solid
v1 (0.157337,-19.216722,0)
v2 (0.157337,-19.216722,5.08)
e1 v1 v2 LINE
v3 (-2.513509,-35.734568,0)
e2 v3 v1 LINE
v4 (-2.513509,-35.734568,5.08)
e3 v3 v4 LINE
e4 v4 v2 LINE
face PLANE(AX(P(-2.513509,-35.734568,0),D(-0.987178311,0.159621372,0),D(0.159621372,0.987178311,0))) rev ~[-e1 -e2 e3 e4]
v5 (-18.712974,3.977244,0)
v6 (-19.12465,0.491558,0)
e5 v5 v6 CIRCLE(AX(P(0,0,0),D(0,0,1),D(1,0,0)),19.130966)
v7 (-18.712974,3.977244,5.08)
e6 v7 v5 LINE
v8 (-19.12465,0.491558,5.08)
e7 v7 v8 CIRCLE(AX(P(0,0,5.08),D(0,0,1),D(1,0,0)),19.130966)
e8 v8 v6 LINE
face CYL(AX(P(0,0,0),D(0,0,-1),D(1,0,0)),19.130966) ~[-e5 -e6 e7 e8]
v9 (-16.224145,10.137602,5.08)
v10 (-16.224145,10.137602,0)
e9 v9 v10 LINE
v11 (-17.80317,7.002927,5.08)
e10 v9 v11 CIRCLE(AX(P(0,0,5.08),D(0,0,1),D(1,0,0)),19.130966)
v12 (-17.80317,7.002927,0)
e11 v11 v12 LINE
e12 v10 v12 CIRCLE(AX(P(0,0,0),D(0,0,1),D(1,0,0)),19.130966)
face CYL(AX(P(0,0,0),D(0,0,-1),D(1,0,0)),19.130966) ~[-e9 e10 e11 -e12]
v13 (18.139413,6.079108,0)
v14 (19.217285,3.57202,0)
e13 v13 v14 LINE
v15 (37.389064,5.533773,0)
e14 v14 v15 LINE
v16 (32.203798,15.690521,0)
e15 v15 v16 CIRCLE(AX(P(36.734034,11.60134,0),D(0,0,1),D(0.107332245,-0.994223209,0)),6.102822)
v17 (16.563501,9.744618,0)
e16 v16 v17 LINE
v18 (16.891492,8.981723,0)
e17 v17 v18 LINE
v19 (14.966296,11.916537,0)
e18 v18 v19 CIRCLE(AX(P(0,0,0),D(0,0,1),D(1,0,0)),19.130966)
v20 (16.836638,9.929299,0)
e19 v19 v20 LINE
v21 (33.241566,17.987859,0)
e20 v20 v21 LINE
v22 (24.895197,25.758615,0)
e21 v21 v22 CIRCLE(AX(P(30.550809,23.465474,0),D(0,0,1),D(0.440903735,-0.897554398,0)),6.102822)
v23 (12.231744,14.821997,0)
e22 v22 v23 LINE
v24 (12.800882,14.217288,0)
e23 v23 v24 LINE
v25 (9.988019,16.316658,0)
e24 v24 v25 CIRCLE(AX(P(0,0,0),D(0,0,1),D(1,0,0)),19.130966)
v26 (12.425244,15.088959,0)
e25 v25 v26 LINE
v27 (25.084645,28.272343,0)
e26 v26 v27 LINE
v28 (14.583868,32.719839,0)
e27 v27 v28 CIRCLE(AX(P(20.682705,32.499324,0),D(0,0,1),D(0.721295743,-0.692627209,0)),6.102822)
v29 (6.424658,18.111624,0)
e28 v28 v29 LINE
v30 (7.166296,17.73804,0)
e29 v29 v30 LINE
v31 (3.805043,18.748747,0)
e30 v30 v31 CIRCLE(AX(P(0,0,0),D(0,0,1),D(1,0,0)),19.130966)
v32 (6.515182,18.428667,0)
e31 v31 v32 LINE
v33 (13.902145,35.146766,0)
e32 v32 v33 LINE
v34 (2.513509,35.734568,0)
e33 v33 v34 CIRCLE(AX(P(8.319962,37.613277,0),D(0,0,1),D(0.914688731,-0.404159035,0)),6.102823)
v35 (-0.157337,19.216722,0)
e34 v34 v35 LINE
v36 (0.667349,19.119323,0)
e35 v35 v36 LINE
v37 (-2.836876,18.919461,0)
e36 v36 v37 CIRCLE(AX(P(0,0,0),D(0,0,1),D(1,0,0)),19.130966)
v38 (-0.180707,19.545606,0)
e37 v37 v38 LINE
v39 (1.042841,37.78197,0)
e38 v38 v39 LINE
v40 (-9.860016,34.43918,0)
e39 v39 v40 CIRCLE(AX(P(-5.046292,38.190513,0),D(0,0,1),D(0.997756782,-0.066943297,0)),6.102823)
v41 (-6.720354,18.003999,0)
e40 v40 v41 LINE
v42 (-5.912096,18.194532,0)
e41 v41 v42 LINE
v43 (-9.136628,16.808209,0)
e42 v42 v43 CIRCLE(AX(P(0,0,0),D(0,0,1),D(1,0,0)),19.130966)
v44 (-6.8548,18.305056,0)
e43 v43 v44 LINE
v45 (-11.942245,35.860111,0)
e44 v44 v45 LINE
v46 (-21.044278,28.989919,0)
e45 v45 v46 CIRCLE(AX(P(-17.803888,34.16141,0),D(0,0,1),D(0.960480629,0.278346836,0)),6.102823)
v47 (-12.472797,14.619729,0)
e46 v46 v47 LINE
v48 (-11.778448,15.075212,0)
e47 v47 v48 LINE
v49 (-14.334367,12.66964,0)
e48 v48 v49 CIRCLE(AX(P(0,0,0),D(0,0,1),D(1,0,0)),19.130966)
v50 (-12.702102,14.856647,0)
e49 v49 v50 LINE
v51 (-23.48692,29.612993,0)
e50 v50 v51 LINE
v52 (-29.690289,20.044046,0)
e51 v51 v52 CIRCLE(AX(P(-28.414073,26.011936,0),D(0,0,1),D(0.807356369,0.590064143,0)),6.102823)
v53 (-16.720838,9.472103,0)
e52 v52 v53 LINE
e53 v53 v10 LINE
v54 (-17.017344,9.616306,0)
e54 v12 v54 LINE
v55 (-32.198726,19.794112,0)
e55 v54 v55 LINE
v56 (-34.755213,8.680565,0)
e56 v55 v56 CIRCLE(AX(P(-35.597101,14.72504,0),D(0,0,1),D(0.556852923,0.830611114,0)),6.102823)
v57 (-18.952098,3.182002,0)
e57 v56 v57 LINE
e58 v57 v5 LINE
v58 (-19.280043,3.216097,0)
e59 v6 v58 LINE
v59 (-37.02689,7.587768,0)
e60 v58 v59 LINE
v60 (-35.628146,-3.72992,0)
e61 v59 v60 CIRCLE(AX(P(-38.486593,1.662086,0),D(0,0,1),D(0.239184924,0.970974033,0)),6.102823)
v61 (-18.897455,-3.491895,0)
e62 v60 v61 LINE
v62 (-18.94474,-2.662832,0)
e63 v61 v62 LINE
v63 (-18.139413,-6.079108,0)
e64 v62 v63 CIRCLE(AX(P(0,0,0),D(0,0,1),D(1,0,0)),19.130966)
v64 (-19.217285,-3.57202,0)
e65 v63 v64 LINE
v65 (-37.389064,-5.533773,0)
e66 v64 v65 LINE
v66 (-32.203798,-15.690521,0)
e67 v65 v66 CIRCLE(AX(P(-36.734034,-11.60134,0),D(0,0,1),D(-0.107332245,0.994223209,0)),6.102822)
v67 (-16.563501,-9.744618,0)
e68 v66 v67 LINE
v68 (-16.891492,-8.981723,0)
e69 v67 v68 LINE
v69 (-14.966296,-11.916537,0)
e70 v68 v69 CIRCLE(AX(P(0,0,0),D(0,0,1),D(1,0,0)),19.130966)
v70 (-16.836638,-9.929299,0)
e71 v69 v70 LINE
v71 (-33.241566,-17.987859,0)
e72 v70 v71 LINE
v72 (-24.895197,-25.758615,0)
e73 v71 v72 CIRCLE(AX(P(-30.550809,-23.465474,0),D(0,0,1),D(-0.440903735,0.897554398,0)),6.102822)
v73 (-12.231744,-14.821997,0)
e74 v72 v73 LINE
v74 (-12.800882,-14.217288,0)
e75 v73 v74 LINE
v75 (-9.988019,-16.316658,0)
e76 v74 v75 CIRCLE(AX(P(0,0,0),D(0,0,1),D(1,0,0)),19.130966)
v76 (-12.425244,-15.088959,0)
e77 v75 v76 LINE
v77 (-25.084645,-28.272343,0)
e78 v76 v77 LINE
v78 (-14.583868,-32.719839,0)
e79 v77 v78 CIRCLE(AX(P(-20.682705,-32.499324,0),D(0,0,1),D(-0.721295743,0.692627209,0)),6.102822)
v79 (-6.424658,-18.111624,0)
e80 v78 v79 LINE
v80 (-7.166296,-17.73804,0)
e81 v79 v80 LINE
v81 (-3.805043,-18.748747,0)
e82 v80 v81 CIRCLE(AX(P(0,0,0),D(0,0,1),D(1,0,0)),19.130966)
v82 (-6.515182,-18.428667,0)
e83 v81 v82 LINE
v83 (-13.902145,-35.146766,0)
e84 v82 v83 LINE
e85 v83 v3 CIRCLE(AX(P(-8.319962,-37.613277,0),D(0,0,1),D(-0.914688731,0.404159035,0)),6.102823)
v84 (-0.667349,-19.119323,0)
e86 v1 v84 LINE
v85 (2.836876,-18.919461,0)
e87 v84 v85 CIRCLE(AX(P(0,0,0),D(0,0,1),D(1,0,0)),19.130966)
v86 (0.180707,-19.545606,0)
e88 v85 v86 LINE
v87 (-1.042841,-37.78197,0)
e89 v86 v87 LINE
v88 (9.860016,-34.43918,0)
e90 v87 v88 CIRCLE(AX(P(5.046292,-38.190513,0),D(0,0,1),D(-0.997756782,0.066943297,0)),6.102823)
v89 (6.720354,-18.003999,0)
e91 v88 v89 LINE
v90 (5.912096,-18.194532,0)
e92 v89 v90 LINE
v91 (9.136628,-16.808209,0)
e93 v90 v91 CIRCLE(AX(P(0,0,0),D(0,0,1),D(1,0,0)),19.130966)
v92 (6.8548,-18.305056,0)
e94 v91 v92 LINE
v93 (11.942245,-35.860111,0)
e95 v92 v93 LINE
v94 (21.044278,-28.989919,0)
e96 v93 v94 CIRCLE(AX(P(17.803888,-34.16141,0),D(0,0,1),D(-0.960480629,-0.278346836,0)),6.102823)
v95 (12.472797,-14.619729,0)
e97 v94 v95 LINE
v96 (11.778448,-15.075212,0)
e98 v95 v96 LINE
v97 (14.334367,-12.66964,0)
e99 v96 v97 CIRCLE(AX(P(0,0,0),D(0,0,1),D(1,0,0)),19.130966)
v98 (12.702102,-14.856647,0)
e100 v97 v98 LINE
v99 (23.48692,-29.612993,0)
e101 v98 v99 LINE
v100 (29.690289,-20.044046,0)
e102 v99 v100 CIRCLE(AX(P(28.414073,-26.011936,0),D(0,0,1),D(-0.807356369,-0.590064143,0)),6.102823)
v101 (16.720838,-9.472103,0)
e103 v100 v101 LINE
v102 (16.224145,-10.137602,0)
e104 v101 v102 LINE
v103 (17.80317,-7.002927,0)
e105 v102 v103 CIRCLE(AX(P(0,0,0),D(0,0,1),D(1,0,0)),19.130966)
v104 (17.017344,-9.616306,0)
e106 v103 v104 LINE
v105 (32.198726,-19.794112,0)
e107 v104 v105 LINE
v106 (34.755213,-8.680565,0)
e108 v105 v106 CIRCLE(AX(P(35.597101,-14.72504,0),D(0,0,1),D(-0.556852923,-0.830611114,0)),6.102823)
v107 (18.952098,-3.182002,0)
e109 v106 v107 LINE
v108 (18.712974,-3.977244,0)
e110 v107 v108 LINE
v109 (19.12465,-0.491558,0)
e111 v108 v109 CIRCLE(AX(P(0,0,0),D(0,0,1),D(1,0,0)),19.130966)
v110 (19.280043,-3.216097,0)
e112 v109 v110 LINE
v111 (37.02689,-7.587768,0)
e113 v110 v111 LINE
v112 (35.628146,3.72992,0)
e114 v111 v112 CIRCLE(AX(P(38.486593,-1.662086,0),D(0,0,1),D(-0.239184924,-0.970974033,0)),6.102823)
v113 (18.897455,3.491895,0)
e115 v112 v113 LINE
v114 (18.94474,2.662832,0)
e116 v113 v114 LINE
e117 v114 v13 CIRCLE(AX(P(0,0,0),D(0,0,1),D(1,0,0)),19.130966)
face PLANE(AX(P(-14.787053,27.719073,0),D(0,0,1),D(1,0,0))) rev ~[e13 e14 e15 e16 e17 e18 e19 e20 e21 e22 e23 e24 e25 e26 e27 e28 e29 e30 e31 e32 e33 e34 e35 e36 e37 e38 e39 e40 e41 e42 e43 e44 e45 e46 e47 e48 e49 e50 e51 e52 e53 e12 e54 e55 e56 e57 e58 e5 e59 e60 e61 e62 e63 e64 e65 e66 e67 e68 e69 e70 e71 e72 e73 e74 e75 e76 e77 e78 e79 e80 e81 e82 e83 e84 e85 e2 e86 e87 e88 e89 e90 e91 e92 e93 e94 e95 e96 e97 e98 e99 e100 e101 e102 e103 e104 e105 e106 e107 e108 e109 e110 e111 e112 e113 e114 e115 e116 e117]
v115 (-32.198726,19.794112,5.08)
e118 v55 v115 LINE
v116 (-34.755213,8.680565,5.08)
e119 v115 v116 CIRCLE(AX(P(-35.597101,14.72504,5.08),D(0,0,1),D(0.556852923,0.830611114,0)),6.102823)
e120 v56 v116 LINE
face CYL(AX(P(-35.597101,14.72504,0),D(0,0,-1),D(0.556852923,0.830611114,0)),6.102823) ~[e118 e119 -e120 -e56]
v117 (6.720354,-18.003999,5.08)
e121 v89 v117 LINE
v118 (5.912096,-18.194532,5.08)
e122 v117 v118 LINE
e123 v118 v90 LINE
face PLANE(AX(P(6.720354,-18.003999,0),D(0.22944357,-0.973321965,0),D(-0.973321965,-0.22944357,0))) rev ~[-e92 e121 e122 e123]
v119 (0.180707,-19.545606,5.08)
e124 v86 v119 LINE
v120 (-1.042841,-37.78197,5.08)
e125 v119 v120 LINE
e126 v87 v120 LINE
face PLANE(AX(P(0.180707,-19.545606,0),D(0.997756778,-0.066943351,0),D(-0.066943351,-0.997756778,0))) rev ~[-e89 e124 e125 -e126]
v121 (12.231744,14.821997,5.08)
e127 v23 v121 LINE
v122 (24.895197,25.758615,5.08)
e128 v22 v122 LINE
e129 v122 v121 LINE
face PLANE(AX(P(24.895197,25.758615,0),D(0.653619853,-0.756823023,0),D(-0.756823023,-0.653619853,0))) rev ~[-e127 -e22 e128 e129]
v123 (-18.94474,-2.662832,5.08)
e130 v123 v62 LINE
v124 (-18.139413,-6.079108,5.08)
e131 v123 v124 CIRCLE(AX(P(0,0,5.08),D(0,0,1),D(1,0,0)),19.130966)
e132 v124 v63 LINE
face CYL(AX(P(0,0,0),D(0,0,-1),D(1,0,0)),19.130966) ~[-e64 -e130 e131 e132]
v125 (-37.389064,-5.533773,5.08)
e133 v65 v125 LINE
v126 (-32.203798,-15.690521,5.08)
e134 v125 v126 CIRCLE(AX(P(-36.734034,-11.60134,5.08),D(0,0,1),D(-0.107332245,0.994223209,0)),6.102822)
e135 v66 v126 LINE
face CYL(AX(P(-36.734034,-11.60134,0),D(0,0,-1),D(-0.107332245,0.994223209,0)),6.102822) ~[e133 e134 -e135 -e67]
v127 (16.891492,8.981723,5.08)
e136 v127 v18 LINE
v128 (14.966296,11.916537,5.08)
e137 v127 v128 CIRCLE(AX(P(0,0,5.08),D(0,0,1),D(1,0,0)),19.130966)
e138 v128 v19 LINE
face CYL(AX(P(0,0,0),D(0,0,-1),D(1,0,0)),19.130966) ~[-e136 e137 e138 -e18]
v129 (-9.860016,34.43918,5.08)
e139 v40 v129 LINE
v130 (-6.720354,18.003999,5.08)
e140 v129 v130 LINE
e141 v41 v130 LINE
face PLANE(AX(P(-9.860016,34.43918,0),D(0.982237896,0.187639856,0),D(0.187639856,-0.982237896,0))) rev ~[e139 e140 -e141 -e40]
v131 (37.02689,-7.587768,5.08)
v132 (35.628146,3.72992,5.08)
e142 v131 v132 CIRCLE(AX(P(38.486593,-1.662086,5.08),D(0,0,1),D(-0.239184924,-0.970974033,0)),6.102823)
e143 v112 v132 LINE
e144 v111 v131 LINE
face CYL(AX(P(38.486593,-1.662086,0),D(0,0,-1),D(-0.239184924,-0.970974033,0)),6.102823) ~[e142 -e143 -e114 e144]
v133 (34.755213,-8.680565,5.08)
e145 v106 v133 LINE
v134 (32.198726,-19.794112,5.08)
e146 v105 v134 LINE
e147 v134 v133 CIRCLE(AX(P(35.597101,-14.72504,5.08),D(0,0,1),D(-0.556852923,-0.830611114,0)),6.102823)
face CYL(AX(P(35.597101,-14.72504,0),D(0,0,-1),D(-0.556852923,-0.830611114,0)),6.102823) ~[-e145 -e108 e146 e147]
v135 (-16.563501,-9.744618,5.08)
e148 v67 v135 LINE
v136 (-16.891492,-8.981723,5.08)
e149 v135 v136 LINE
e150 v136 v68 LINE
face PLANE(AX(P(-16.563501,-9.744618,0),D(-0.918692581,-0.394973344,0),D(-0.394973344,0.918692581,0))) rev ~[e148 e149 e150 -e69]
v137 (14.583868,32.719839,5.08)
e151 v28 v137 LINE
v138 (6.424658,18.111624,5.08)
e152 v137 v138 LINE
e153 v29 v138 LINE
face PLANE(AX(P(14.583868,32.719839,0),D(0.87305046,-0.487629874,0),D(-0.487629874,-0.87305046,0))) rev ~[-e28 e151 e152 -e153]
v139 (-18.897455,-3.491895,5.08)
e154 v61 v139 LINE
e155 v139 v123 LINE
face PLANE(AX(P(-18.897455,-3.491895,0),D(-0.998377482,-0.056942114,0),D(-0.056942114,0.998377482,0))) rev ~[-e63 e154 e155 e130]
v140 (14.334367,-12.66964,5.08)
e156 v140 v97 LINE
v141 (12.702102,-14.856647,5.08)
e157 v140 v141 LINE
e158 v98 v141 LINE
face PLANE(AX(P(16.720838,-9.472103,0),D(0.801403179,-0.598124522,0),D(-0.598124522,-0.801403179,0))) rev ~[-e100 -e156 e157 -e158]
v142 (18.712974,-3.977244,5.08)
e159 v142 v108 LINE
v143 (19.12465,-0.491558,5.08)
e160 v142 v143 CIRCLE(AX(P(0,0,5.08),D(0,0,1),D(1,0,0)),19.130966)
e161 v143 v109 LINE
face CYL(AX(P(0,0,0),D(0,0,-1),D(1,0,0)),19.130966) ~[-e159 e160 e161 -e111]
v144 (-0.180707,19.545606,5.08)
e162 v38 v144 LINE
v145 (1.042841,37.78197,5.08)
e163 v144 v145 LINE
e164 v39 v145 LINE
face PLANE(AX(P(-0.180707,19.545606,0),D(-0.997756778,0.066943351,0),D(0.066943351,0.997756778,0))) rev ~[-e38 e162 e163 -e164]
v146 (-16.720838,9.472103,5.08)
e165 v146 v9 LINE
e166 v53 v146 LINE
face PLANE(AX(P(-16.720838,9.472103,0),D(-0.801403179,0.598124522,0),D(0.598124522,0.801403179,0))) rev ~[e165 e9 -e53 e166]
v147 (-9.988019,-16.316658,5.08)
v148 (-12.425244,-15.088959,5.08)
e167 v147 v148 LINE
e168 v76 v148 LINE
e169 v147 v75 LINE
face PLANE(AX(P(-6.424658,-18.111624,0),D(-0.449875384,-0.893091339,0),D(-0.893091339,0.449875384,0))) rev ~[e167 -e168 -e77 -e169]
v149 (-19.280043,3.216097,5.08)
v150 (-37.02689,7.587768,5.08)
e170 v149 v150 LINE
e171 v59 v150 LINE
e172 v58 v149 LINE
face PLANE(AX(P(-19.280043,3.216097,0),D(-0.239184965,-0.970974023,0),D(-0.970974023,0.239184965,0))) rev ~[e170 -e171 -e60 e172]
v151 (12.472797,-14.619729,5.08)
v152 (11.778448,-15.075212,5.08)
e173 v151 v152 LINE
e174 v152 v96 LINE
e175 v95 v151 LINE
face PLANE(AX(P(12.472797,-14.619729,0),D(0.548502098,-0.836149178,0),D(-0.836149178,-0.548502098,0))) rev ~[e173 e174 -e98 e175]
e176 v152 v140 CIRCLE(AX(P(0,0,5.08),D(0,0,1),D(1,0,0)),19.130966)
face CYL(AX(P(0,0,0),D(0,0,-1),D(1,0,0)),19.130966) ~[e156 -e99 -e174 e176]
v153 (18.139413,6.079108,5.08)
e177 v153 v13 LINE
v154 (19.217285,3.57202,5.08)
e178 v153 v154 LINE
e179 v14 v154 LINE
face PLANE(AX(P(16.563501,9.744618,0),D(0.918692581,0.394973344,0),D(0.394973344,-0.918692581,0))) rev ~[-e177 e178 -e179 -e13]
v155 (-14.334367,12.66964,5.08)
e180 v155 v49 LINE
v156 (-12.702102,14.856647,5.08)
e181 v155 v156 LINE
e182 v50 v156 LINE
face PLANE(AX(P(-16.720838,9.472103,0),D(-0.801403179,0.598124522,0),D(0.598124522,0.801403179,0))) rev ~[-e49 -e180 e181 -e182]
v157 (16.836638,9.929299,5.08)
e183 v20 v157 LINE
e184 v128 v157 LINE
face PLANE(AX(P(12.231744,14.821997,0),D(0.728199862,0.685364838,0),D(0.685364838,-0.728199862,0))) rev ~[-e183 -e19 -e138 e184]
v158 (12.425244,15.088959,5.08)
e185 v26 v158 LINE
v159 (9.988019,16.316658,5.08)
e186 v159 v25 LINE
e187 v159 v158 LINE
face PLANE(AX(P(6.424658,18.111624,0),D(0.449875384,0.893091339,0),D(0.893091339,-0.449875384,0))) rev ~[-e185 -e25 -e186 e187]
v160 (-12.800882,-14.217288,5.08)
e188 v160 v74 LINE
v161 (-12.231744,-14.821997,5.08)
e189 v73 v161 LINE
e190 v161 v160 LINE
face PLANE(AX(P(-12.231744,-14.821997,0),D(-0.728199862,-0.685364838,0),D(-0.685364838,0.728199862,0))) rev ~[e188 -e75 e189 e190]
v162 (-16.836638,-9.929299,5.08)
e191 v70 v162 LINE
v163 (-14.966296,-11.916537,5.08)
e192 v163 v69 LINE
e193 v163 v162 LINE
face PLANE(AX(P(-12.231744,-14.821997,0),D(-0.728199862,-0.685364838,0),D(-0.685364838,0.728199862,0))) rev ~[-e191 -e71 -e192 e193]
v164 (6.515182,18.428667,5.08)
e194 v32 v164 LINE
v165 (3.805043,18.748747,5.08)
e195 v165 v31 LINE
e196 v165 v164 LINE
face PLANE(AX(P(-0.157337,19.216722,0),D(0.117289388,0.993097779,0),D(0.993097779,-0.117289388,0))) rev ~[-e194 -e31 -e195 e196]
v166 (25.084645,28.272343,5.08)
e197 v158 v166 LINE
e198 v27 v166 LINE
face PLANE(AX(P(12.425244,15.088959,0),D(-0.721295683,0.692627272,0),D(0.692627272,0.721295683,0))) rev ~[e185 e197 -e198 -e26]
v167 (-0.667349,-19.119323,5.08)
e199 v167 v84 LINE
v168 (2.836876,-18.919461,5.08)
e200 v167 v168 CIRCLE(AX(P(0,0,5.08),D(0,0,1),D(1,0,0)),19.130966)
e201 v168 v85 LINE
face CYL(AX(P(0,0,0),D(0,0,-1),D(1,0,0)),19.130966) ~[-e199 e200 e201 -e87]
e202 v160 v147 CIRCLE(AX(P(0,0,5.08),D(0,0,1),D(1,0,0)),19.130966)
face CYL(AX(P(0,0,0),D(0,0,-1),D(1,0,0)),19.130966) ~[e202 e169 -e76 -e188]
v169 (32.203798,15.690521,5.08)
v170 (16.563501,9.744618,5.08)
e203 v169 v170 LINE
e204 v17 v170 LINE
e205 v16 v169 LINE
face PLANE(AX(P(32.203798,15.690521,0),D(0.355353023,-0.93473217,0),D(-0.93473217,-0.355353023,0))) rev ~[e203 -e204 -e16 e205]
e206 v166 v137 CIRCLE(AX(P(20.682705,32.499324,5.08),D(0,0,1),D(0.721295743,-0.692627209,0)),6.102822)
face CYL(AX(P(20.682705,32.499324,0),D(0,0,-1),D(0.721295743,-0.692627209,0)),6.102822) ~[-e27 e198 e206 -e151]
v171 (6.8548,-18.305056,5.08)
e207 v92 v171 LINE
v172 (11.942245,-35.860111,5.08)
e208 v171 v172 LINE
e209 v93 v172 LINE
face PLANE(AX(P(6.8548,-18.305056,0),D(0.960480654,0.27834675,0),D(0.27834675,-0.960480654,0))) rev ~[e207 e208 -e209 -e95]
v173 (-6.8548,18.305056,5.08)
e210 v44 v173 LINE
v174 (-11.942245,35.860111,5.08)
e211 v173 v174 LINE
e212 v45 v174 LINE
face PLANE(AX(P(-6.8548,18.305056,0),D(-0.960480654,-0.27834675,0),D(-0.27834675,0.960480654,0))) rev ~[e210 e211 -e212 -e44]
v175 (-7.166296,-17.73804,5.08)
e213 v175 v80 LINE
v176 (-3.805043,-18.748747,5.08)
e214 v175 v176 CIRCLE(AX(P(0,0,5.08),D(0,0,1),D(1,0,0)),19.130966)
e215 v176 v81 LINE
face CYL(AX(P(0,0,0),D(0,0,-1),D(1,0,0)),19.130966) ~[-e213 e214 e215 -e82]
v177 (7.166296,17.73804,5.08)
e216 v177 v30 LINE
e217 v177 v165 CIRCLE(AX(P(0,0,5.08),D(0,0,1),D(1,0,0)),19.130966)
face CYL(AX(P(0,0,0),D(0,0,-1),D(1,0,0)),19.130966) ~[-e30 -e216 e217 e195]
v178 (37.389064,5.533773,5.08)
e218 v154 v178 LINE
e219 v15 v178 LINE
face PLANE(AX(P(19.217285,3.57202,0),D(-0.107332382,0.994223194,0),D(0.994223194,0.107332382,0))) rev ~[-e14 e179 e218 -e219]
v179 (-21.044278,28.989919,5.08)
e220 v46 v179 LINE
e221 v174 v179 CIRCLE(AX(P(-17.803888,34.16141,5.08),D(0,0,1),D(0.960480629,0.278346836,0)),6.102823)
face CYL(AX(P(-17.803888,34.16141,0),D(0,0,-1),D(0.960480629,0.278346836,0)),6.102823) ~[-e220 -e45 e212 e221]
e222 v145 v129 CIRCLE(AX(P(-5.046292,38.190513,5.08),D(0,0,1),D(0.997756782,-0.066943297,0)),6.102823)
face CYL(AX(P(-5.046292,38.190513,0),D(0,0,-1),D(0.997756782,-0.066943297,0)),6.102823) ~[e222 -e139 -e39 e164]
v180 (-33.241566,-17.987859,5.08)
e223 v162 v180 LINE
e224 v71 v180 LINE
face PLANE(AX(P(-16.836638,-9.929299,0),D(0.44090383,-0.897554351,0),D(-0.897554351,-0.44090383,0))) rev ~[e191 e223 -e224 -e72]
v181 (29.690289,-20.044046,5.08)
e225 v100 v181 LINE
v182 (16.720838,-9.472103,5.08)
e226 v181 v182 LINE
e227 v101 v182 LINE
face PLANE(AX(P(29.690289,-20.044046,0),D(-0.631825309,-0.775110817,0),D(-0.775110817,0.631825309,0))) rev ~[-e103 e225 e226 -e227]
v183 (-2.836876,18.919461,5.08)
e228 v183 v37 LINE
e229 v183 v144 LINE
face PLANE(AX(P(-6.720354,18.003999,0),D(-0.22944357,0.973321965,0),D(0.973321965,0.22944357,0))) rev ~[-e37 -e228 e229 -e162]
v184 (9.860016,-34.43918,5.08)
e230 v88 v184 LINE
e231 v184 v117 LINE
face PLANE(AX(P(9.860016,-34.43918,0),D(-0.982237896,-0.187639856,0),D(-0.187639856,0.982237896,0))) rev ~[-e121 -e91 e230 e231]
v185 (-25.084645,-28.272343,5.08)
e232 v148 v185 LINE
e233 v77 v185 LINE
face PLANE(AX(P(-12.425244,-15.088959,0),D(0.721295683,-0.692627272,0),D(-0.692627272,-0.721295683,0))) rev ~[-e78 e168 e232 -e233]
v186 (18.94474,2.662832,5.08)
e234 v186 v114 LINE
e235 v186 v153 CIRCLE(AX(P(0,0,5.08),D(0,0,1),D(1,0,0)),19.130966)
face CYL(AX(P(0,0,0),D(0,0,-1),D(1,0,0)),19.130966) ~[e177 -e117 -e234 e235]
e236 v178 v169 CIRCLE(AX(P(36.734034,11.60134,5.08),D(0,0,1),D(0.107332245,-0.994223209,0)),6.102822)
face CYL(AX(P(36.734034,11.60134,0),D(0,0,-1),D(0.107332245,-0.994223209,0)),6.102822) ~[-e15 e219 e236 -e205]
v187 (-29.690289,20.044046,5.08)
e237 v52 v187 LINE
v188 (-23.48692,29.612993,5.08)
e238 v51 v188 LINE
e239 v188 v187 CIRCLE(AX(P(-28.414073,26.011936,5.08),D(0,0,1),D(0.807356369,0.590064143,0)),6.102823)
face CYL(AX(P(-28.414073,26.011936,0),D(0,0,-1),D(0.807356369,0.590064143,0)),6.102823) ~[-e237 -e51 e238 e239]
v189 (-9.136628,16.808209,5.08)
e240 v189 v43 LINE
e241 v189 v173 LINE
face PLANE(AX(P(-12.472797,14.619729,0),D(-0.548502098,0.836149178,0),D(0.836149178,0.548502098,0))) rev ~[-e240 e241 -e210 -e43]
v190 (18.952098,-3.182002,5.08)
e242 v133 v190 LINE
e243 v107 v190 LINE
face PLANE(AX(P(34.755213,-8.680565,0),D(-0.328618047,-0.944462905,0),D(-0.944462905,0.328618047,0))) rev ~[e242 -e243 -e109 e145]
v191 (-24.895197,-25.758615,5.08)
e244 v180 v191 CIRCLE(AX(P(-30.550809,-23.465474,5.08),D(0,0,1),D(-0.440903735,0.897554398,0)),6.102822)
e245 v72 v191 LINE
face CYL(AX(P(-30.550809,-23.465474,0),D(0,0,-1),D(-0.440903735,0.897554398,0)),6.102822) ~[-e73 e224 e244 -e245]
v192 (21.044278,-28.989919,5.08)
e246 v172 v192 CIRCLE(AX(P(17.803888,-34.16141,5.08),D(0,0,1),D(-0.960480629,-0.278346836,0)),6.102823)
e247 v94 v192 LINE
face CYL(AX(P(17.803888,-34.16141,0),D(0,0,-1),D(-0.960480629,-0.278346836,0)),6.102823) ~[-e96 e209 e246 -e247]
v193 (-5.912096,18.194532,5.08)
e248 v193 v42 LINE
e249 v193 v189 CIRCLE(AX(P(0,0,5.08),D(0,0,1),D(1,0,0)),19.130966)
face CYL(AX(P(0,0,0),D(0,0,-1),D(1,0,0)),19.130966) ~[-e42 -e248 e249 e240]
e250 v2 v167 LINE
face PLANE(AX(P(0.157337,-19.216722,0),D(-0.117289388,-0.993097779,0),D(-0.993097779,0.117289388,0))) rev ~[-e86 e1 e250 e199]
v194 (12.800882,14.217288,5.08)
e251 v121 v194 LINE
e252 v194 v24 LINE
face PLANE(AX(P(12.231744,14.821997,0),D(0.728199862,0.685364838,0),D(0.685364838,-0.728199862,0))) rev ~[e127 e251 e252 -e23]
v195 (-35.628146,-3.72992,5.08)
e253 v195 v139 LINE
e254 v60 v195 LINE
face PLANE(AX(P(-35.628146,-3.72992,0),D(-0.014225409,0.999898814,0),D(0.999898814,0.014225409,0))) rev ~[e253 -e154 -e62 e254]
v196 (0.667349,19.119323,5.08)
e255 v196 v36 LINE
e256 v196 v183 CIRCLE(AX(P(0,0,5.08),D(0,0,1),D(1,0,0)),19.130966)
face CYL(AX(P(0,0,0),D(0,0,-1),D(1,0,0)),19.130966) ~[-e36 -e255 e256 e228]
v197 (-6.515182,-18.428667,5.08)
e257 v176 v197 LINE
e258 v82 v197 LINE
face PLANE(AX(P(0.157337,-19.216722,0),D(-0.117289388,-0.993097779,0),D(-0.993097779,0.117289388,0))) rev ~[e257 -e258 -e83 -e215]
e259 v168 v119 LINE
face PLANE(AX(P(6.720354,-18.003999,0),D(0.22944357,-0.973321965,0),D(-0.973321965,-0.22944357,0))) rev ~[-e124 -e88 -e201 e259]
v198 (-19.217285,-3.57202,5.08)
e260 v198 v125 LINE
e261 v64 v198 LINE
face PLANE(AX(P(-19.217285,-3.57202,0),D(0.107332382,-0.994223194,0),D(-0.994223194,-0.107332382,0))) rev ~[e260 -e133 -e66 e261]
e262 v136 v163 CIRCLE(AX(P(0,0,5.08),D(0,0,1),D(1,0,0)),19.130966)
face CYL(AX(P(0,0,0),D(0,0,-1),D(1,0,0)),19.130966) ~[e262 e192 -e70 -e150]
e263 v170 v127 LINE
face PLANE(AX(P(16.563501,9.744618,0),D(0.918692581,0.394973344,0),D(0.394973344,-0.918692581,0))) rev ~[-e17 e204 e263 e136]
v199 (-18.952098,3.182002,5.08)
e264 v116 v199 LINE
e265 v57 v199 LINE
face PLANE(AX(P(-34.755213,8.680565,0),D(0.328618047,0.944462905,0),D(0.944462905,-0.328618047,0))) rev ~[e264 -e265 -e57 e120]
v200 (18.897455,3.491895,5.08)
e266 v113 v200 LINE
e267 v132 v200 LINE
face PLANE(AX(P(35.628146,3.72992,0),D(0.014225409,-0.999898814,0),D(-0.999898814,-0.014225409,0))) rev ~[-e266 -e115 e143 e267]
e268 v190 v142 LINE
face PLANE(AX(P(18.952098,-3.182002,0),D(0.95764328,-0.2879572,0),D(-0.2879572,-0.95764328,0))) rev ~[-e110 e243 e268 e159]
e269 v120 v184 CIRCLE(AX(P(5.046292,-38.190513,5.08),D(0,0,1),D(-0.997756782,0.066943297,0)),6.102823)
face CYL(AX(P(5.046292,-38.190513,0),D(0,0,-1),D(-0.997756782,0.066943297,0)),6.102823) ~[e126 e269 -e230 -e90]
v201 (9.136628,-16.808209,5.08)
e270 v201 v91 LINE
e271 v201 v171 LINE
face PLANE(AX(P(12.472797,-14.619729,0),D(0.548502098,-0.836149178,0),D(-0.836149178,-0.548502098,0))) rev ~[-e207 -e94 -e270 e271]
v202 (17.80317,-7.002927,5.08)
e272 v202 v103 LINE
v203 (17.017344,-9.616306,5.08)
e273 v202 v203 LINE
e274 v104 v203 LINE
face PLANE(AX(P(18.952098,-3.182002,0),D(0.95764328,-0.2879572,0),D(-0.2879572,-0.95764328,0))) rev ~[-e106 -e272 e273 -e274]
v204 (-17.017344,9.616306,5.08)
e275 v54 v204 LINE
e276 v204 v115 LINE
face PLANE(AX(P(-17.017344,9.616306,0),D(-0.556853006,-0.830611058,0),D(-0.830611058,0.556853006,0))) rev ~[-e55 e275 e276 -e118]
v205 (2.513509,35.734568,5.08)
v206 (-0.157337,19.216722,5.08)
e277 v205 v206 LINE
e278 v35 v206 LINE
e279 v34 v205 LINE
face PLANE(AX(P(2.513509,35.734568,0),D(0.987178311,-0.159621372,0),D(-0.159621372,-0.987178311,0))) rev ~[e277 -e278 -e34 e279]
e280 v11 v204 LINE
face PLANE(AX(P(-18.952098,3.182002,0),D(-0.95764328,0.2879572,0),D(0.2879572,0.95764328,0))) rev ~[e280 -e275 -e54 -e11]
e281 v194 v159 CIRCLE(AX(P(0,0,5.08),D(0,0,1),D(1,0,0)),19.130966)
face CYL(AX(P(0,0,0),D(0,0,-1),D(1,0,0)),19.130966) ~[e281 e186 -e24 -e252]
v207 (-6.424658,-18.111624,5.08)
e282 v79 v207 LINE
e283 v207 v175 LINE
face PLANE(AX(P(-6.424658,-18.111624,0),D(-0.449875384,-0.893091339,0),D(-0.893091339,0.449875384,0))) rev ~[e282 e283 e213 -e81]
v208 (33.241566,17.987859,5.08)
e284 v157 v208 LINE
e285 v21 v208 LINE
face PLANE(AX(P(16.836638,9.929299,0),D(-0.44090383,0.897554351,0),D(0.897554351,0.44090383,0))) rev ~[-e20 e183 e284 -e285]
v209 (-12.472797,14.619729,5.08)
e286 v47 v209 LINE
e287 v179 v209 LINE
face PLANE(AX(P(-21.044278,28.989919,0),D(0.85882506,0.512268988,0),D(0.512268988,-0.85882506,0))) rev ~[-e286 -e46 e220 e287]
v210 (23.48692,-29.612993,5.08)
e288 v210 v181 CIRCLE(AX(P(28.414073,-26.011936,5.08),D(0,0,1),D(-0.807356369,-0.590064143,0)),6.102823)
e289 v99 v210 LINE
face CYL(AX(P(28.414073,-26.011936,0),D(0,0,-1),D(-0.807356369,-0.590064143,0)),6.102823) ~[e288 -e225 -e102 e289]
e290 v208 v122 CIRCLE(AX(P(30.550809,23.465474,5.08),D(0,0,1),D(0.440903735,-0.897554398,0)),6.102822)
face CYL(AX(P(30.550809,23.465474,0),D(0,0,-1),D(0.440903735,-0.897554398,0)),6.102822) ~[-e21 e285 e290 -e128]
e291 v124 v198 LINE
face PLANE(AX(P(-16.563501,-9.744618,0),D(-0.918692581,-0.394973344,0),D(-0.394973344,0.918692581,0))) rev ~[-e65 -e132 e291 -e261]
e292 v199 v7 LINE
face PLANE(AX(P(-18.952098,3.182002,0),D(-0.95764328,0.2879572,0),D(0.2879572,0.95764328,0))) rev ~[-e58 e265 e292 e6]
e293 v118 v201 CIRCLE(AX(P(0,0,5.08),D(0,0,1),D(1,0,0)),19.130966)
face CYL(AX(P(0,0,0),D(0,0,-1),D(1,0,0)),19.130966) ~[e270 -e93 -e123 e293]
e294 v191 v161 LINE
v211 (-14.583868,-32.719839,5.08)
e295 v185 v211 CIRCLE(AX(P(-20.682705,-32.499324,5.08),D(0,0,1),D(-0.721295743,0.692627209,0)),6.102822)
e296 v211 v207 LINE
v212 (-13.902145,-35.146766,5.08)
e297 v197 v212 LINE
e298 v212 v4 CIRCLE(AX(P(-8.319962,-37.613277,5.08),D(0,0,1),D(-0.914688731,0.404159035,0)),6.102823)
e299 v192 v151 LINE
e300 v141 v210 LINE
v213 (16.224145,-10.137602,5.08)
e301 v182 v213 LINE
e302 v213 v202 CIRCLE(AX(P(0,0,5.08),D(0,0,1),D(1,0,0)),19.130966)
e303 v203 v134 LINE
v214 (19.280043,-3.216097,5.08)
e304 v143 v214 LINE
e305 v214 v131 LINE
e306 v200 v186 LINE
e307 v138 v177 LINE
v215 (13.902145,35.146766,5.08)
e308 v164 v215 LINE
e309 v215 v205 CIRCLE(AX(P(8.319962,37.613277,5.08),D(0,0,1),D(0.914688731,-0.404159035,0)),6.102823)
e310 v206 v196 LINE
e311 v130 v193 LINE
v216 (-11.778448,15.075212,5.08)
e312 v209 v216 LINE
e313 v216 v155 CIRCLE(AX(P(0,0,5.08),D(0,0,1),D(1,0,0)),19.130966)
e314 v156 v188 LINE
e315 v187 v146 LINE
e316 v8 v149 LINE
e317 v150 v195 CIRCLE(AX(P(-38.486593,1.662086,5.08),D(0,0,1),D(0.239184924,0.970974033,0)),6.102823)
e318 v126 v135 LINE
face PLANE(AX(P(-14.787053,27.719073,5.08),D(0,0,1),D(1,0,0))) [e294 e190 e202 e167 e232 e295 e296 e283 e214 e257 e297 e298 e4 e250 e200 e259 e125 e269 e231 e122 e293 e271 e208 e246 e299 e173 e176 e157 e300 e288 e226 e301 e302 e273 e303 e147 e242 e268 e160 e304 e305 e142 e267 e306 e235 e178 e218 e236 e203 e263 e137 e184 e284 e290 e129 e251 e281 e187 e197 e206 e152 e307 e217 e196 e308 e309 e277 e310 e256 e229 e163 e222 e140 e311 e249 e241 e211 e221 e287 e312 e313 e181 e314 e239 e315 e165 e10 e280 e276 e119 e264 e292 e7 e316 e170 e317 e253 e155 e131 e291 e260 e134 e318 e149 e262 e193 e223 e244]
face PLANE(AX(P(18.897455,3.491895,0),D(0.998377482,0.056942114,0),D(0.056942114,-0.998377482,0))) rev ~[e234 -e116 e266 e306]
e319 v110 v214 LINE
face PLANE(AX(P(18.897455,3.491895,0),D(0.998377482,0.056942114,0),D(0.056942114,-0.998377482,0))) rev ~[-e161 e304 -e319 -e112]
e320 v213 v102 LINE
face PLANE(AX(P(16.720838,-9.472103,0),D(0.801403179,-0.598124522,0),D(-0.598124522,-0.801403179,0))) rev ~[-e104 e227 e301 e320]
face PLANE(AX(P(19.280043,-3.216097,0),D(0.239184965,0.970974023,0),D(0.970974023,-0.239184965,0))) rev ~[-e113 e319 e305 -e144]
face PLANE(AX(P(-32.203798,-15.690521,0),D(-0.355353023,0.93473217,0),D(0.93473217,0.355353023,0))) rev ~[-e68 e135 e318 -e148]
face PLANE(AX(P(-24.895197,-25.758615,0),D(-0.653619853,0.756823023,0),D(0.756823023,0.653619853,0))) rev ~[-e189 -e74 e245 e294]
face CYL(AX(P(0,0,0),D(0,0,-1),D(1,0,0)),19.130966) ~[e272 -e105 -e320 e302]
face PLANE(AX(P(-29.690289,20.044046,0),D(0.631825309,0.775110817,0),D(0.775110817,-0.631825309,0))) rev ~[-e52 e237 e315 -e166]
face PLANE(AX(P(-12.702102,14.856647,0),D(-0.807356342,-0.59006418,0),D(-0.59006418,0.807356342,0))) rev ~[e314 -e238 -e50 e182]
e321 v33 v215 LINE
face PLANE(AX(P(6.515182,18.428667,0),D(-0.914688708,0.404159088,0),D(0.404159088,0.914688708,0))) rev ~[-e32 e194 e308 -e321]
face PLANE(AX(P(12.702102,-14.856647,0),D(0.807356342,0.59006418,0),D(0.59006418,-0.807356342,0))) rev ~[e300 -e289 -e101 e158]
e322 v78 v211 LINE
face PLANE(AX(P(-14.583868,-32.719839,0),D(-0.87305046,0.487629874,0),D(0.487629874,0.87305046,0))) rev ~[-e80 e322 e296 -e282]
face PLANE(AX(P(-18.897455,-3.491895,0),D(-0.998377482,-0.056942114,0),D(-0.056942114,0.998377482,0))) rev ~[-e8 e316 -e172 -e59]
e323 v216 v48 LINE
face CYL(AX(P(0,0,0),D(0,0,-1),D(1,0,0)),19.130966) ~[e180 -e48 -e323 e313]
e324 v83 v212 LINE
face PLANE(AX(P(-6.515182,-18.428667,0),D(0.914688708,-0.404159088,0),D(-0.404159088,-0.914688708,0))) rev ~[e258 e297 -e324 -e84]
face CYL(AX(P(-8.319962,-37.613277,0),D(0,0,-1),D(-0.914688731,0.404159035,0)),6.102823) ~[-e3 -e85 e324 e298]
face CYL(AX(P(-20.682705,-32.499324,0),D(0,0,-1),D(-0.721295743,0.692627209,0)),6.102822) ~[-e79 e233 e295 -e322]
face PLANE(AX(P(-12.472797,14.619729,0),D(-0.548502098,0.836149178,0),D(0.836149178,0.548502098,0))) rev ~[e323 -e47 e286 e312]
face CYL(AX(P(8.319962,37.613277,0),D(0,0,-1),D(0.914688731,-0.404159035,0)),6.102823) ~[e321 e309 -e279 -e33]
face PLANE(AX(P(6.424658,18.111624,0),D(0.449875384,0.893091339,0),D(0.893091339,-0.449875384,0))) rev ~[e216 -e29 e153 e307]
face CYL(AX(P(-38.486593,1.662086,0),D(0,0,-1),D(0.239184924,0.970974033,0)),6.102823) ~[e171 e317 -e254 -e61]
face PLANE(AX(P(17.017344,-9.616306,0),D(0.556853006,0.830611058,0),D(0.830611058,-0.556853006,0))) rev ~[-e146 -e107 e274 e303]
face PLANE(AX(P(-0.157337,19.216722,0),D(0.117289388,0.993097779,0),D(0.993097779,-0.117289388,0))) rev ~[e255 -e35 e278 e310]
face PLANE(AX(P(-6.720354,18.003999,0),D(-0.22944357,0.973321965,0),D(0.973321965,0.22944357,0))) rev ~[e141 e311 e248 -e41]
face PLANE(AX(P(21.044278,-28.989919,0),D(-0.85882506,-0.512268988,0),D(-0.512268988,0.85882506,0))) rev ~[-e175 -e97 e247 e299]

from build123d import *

# Parameters (mm, degrees)
F0_R     = 19.130966
F2_DEPTH = 5.08
F3_DEPTH = 5.08


with BuildPart() as f2:
    # F0 (on Top) → F2 (new body)
    with BuildSketch(Plane.XY):
        Circle(F0_R)
    extrude(amount=F2_DEPTH)

    # F1 (on Top) → F3 (join)
    with BuildSketch(Plane.XY):
        with BuildLine():
            Line((-21.044278, 28.989919), (-12.472797, 14.619729))
            Line((-12.472797, 14.619729), (-6.8548, 18.305056))
            Line((-6.8548, 18.305056), (-11.942245, 35.860111))
            ThreePointArc((-11.942245, 35.860111), (-21.48052, 39.032428), (-21.044278, 28.989919))
        make_face()
        with BuildLine():
            Line((-9.860016, 34.43918), (-6.720354, 18.003999))
            Line((-6.720354, 18.003999), (-0.180707, 19.545606))
            Line((-0.180707, 19.545606), (1.042841, 37.78197))
            ThreePointArc((1.042841, 37.78197), (-6.83521, 44.025255), (-9.860016, 34.43918))
        make_face()
        with BuildLine():
            Line((2.513509, 35.734568), (-0.157337, 19.216722))
            Line((-0.157337, 19.216722), (6.515182, 18.428667))
            Line((6.515182, 18.428667), (13.902145, 35.146766))
            ThreePointArc((13.902145, 35.146766), (8.634528, 43.707987), (2.513509, 35.734568))
        make_face()
        with BuildLine():
            Line((14.583868, 32.719839), (6.424658, 18.111624))
            Line((6.424658, 18.111624), (12.425244, 15.088959))
            Line((12.425244, 15.088959), (25.084645, 28.272343))
            ThreePointArc((25.084645, 28.272343), (23.062814, 38.11889), (14.583868, 32.719839))
        make_face()
        with BuildLine():
            Line((12.231744, 14.821997), (16.836638, 9.929299))
            Line((16.836638, 9.929299), (33.241566, 17.987859))
            ThreePointArc((33.241566, 17.987859), (34.709385, 27.932093), (24.895197, 25.758615))
            Line((24.895197, 25.758615), (12.231744, 14.821997))
        make_face()
        with BuildLine():
            Line((32.203798, 15.690521), (16.563501, 9.744618))
            Line((16.563501, 9.744618), (19.217285, 3.57202))
            Line((19.217285, 3.57202), (37.389064, 5.533773))
            ThreePointArc((37.389064, 5.533773), (42.169491, 14.376273), (32.203798, 15.690521))
        make_face()
        with BuildLine():
            Line((35.628146, 3.72992), (18.897455, 3.491895))
            Line((18.897455, 3.491895), (19.280043, -3.216097))
            Line((19.280043, -3.216097), (37.02689, -7.587768))
            ThreePointArc((37.02689, -7.587768), (44.543335, -0.913538), (35.628146, 3.72992))
        make_face()
        with BuildLine():
            Line((34.755213, -8.680565), (18.952098, -3.182002))
            Line((18.952098, -3.182002), (17.017344, -9.616306))
            Line((17.017344, -9.616306), (32.198726, -19.794112))
            ThreePointArc((32.198726, -19.794112), (41.544595, -16.093162), (34.755213, -8.680565))
        make_face()
        with BuildLine():
            Line((29.690289, -20.044046), (16.720838, -9.472103))
            Line((16.720838, -9.472103), (12.702102, -14.856647))
            Line((12.702102, -14.856647), (23.48692, -29.612993))
            ThreePointArc((23.48692, -29.612993), (33.534963, -29.331714), (29.690289, -20.044046))
        make_face()
        with BuildLine():
            Line((21.044278, -28.989919), (12.472797, -14.619729))
            Line((12.472797, -14.619729), (6.8548, -18.305056))
            Line((6.8548, -18.305056), (11.942245, -35.860111))
            ThreePointArc((11.942245, -35.860111), (21.48052, -39.032428), (21.044278, -28.989919))
        make_face()
        with BuildLine():
            Line((9.860016, -34.43918), (6.720354, -18.003999))
            Line((6.720354, -18.003999), (0.180707, -19.545606))
            Line((0.180707, -19.545606), (-1.042841, -37.78197))
            ThreePointArc((-1.042841, -37.78197), (6.83521, -44.025255), (9.860016, -34.43918))
        make_face()
        with BuildLine():
            Line((-2.513509, -35.734568), (0.157337, -19.216722))
            Line((0.157337, -19.216722), (-6.515182, -18.428667))
            Line((-6.515182, -18.428667), (-13.902145, -35.146766))
            ThreePointArc((-13.902145, -35.146766), (-8.634528, -43.707987), (-2.513509, -35.734568))
        make_face()
        with BuildLine():
            Line((-14.583868, -32.719839), (-6.424658, -18.111624))
            Line((-6.424658, -18.111624), (-12.425244, -15.088959))
            Line((-12.425244, -15.088959), (-25.084645, -28.272343))
            ThreePointArc((-25.084645, -28.272343), (-23.062814, -38.11889), (-14.583868, -32.719839))
        make_face()
        with BuildLine():
            Line((-24.895197, -25.758615), (-12.231744, -14.821997))
            Line((-12.231744, -14.821997), (-16.836638, -9.929299))
            Line((-16.836638, -9.929299), (-33.241566, -17.987859))
            ThreePointArc((-33.241566, -17.987859), (-34.709385, -27.932093), (-24.895197, -25.758615))
        make_face()
        with BuildLine():
            Line((-34.755213, 8.680565), (-18.952098, 3.182002))
            Line((-18.952098, 3.182002), (-17.017344, 9.616306))
            Line((-17.017344, 9.616306), (-32.198726, 19.794112))
            ThreePointArc((-32.198726, 19.794112), (-41.544595, 16.093162), (-34.755213, 8.680565))
        make_face()
        with BuildLine():
            Line((-29.690289, 20.044046), (-16.720838, 9.472103))
            Line((-16.720838, 9.472103), (-12.702102, 14.856647))
            Line((-12.702102, 14.856647), (-23.48692, 29.612993))
            ThreePointArc((-23.48692, 29.612993), (-33.534963, 29.331714), (-29.690289, 20.044046))
        make_face()
        with BuildLine():
            Line((-35.628146, -3.72992), (-18.897455, -3.491895))
            Line((-18.897455, -3.491895), (-19.280043, 3.216097))
            Line((-19.280043, 3.216097), (-37.02689, 7.587768))
            ThreePointArc((-37.02689, 7.587768), (-44.543335, 0.913538), (-35.628146, -3.72992))
        make_face()
        with BuildLine():
            Line((-32.203798, -15.690521), (-16.563501, -9.744618))
            Line((-16.563501, -9.744618), (-19.217285, -3.57202))
            Line((-19.217285, -3.57202), (-37.389064, -5.533773))
            ThreePointArc((-37.389064, -5.533773), (-42.169491, -14.376273), (-32.203798, -15.690521))
        make_face()
    extrude(amount=F3_DEPTH)


solid = f2.part
